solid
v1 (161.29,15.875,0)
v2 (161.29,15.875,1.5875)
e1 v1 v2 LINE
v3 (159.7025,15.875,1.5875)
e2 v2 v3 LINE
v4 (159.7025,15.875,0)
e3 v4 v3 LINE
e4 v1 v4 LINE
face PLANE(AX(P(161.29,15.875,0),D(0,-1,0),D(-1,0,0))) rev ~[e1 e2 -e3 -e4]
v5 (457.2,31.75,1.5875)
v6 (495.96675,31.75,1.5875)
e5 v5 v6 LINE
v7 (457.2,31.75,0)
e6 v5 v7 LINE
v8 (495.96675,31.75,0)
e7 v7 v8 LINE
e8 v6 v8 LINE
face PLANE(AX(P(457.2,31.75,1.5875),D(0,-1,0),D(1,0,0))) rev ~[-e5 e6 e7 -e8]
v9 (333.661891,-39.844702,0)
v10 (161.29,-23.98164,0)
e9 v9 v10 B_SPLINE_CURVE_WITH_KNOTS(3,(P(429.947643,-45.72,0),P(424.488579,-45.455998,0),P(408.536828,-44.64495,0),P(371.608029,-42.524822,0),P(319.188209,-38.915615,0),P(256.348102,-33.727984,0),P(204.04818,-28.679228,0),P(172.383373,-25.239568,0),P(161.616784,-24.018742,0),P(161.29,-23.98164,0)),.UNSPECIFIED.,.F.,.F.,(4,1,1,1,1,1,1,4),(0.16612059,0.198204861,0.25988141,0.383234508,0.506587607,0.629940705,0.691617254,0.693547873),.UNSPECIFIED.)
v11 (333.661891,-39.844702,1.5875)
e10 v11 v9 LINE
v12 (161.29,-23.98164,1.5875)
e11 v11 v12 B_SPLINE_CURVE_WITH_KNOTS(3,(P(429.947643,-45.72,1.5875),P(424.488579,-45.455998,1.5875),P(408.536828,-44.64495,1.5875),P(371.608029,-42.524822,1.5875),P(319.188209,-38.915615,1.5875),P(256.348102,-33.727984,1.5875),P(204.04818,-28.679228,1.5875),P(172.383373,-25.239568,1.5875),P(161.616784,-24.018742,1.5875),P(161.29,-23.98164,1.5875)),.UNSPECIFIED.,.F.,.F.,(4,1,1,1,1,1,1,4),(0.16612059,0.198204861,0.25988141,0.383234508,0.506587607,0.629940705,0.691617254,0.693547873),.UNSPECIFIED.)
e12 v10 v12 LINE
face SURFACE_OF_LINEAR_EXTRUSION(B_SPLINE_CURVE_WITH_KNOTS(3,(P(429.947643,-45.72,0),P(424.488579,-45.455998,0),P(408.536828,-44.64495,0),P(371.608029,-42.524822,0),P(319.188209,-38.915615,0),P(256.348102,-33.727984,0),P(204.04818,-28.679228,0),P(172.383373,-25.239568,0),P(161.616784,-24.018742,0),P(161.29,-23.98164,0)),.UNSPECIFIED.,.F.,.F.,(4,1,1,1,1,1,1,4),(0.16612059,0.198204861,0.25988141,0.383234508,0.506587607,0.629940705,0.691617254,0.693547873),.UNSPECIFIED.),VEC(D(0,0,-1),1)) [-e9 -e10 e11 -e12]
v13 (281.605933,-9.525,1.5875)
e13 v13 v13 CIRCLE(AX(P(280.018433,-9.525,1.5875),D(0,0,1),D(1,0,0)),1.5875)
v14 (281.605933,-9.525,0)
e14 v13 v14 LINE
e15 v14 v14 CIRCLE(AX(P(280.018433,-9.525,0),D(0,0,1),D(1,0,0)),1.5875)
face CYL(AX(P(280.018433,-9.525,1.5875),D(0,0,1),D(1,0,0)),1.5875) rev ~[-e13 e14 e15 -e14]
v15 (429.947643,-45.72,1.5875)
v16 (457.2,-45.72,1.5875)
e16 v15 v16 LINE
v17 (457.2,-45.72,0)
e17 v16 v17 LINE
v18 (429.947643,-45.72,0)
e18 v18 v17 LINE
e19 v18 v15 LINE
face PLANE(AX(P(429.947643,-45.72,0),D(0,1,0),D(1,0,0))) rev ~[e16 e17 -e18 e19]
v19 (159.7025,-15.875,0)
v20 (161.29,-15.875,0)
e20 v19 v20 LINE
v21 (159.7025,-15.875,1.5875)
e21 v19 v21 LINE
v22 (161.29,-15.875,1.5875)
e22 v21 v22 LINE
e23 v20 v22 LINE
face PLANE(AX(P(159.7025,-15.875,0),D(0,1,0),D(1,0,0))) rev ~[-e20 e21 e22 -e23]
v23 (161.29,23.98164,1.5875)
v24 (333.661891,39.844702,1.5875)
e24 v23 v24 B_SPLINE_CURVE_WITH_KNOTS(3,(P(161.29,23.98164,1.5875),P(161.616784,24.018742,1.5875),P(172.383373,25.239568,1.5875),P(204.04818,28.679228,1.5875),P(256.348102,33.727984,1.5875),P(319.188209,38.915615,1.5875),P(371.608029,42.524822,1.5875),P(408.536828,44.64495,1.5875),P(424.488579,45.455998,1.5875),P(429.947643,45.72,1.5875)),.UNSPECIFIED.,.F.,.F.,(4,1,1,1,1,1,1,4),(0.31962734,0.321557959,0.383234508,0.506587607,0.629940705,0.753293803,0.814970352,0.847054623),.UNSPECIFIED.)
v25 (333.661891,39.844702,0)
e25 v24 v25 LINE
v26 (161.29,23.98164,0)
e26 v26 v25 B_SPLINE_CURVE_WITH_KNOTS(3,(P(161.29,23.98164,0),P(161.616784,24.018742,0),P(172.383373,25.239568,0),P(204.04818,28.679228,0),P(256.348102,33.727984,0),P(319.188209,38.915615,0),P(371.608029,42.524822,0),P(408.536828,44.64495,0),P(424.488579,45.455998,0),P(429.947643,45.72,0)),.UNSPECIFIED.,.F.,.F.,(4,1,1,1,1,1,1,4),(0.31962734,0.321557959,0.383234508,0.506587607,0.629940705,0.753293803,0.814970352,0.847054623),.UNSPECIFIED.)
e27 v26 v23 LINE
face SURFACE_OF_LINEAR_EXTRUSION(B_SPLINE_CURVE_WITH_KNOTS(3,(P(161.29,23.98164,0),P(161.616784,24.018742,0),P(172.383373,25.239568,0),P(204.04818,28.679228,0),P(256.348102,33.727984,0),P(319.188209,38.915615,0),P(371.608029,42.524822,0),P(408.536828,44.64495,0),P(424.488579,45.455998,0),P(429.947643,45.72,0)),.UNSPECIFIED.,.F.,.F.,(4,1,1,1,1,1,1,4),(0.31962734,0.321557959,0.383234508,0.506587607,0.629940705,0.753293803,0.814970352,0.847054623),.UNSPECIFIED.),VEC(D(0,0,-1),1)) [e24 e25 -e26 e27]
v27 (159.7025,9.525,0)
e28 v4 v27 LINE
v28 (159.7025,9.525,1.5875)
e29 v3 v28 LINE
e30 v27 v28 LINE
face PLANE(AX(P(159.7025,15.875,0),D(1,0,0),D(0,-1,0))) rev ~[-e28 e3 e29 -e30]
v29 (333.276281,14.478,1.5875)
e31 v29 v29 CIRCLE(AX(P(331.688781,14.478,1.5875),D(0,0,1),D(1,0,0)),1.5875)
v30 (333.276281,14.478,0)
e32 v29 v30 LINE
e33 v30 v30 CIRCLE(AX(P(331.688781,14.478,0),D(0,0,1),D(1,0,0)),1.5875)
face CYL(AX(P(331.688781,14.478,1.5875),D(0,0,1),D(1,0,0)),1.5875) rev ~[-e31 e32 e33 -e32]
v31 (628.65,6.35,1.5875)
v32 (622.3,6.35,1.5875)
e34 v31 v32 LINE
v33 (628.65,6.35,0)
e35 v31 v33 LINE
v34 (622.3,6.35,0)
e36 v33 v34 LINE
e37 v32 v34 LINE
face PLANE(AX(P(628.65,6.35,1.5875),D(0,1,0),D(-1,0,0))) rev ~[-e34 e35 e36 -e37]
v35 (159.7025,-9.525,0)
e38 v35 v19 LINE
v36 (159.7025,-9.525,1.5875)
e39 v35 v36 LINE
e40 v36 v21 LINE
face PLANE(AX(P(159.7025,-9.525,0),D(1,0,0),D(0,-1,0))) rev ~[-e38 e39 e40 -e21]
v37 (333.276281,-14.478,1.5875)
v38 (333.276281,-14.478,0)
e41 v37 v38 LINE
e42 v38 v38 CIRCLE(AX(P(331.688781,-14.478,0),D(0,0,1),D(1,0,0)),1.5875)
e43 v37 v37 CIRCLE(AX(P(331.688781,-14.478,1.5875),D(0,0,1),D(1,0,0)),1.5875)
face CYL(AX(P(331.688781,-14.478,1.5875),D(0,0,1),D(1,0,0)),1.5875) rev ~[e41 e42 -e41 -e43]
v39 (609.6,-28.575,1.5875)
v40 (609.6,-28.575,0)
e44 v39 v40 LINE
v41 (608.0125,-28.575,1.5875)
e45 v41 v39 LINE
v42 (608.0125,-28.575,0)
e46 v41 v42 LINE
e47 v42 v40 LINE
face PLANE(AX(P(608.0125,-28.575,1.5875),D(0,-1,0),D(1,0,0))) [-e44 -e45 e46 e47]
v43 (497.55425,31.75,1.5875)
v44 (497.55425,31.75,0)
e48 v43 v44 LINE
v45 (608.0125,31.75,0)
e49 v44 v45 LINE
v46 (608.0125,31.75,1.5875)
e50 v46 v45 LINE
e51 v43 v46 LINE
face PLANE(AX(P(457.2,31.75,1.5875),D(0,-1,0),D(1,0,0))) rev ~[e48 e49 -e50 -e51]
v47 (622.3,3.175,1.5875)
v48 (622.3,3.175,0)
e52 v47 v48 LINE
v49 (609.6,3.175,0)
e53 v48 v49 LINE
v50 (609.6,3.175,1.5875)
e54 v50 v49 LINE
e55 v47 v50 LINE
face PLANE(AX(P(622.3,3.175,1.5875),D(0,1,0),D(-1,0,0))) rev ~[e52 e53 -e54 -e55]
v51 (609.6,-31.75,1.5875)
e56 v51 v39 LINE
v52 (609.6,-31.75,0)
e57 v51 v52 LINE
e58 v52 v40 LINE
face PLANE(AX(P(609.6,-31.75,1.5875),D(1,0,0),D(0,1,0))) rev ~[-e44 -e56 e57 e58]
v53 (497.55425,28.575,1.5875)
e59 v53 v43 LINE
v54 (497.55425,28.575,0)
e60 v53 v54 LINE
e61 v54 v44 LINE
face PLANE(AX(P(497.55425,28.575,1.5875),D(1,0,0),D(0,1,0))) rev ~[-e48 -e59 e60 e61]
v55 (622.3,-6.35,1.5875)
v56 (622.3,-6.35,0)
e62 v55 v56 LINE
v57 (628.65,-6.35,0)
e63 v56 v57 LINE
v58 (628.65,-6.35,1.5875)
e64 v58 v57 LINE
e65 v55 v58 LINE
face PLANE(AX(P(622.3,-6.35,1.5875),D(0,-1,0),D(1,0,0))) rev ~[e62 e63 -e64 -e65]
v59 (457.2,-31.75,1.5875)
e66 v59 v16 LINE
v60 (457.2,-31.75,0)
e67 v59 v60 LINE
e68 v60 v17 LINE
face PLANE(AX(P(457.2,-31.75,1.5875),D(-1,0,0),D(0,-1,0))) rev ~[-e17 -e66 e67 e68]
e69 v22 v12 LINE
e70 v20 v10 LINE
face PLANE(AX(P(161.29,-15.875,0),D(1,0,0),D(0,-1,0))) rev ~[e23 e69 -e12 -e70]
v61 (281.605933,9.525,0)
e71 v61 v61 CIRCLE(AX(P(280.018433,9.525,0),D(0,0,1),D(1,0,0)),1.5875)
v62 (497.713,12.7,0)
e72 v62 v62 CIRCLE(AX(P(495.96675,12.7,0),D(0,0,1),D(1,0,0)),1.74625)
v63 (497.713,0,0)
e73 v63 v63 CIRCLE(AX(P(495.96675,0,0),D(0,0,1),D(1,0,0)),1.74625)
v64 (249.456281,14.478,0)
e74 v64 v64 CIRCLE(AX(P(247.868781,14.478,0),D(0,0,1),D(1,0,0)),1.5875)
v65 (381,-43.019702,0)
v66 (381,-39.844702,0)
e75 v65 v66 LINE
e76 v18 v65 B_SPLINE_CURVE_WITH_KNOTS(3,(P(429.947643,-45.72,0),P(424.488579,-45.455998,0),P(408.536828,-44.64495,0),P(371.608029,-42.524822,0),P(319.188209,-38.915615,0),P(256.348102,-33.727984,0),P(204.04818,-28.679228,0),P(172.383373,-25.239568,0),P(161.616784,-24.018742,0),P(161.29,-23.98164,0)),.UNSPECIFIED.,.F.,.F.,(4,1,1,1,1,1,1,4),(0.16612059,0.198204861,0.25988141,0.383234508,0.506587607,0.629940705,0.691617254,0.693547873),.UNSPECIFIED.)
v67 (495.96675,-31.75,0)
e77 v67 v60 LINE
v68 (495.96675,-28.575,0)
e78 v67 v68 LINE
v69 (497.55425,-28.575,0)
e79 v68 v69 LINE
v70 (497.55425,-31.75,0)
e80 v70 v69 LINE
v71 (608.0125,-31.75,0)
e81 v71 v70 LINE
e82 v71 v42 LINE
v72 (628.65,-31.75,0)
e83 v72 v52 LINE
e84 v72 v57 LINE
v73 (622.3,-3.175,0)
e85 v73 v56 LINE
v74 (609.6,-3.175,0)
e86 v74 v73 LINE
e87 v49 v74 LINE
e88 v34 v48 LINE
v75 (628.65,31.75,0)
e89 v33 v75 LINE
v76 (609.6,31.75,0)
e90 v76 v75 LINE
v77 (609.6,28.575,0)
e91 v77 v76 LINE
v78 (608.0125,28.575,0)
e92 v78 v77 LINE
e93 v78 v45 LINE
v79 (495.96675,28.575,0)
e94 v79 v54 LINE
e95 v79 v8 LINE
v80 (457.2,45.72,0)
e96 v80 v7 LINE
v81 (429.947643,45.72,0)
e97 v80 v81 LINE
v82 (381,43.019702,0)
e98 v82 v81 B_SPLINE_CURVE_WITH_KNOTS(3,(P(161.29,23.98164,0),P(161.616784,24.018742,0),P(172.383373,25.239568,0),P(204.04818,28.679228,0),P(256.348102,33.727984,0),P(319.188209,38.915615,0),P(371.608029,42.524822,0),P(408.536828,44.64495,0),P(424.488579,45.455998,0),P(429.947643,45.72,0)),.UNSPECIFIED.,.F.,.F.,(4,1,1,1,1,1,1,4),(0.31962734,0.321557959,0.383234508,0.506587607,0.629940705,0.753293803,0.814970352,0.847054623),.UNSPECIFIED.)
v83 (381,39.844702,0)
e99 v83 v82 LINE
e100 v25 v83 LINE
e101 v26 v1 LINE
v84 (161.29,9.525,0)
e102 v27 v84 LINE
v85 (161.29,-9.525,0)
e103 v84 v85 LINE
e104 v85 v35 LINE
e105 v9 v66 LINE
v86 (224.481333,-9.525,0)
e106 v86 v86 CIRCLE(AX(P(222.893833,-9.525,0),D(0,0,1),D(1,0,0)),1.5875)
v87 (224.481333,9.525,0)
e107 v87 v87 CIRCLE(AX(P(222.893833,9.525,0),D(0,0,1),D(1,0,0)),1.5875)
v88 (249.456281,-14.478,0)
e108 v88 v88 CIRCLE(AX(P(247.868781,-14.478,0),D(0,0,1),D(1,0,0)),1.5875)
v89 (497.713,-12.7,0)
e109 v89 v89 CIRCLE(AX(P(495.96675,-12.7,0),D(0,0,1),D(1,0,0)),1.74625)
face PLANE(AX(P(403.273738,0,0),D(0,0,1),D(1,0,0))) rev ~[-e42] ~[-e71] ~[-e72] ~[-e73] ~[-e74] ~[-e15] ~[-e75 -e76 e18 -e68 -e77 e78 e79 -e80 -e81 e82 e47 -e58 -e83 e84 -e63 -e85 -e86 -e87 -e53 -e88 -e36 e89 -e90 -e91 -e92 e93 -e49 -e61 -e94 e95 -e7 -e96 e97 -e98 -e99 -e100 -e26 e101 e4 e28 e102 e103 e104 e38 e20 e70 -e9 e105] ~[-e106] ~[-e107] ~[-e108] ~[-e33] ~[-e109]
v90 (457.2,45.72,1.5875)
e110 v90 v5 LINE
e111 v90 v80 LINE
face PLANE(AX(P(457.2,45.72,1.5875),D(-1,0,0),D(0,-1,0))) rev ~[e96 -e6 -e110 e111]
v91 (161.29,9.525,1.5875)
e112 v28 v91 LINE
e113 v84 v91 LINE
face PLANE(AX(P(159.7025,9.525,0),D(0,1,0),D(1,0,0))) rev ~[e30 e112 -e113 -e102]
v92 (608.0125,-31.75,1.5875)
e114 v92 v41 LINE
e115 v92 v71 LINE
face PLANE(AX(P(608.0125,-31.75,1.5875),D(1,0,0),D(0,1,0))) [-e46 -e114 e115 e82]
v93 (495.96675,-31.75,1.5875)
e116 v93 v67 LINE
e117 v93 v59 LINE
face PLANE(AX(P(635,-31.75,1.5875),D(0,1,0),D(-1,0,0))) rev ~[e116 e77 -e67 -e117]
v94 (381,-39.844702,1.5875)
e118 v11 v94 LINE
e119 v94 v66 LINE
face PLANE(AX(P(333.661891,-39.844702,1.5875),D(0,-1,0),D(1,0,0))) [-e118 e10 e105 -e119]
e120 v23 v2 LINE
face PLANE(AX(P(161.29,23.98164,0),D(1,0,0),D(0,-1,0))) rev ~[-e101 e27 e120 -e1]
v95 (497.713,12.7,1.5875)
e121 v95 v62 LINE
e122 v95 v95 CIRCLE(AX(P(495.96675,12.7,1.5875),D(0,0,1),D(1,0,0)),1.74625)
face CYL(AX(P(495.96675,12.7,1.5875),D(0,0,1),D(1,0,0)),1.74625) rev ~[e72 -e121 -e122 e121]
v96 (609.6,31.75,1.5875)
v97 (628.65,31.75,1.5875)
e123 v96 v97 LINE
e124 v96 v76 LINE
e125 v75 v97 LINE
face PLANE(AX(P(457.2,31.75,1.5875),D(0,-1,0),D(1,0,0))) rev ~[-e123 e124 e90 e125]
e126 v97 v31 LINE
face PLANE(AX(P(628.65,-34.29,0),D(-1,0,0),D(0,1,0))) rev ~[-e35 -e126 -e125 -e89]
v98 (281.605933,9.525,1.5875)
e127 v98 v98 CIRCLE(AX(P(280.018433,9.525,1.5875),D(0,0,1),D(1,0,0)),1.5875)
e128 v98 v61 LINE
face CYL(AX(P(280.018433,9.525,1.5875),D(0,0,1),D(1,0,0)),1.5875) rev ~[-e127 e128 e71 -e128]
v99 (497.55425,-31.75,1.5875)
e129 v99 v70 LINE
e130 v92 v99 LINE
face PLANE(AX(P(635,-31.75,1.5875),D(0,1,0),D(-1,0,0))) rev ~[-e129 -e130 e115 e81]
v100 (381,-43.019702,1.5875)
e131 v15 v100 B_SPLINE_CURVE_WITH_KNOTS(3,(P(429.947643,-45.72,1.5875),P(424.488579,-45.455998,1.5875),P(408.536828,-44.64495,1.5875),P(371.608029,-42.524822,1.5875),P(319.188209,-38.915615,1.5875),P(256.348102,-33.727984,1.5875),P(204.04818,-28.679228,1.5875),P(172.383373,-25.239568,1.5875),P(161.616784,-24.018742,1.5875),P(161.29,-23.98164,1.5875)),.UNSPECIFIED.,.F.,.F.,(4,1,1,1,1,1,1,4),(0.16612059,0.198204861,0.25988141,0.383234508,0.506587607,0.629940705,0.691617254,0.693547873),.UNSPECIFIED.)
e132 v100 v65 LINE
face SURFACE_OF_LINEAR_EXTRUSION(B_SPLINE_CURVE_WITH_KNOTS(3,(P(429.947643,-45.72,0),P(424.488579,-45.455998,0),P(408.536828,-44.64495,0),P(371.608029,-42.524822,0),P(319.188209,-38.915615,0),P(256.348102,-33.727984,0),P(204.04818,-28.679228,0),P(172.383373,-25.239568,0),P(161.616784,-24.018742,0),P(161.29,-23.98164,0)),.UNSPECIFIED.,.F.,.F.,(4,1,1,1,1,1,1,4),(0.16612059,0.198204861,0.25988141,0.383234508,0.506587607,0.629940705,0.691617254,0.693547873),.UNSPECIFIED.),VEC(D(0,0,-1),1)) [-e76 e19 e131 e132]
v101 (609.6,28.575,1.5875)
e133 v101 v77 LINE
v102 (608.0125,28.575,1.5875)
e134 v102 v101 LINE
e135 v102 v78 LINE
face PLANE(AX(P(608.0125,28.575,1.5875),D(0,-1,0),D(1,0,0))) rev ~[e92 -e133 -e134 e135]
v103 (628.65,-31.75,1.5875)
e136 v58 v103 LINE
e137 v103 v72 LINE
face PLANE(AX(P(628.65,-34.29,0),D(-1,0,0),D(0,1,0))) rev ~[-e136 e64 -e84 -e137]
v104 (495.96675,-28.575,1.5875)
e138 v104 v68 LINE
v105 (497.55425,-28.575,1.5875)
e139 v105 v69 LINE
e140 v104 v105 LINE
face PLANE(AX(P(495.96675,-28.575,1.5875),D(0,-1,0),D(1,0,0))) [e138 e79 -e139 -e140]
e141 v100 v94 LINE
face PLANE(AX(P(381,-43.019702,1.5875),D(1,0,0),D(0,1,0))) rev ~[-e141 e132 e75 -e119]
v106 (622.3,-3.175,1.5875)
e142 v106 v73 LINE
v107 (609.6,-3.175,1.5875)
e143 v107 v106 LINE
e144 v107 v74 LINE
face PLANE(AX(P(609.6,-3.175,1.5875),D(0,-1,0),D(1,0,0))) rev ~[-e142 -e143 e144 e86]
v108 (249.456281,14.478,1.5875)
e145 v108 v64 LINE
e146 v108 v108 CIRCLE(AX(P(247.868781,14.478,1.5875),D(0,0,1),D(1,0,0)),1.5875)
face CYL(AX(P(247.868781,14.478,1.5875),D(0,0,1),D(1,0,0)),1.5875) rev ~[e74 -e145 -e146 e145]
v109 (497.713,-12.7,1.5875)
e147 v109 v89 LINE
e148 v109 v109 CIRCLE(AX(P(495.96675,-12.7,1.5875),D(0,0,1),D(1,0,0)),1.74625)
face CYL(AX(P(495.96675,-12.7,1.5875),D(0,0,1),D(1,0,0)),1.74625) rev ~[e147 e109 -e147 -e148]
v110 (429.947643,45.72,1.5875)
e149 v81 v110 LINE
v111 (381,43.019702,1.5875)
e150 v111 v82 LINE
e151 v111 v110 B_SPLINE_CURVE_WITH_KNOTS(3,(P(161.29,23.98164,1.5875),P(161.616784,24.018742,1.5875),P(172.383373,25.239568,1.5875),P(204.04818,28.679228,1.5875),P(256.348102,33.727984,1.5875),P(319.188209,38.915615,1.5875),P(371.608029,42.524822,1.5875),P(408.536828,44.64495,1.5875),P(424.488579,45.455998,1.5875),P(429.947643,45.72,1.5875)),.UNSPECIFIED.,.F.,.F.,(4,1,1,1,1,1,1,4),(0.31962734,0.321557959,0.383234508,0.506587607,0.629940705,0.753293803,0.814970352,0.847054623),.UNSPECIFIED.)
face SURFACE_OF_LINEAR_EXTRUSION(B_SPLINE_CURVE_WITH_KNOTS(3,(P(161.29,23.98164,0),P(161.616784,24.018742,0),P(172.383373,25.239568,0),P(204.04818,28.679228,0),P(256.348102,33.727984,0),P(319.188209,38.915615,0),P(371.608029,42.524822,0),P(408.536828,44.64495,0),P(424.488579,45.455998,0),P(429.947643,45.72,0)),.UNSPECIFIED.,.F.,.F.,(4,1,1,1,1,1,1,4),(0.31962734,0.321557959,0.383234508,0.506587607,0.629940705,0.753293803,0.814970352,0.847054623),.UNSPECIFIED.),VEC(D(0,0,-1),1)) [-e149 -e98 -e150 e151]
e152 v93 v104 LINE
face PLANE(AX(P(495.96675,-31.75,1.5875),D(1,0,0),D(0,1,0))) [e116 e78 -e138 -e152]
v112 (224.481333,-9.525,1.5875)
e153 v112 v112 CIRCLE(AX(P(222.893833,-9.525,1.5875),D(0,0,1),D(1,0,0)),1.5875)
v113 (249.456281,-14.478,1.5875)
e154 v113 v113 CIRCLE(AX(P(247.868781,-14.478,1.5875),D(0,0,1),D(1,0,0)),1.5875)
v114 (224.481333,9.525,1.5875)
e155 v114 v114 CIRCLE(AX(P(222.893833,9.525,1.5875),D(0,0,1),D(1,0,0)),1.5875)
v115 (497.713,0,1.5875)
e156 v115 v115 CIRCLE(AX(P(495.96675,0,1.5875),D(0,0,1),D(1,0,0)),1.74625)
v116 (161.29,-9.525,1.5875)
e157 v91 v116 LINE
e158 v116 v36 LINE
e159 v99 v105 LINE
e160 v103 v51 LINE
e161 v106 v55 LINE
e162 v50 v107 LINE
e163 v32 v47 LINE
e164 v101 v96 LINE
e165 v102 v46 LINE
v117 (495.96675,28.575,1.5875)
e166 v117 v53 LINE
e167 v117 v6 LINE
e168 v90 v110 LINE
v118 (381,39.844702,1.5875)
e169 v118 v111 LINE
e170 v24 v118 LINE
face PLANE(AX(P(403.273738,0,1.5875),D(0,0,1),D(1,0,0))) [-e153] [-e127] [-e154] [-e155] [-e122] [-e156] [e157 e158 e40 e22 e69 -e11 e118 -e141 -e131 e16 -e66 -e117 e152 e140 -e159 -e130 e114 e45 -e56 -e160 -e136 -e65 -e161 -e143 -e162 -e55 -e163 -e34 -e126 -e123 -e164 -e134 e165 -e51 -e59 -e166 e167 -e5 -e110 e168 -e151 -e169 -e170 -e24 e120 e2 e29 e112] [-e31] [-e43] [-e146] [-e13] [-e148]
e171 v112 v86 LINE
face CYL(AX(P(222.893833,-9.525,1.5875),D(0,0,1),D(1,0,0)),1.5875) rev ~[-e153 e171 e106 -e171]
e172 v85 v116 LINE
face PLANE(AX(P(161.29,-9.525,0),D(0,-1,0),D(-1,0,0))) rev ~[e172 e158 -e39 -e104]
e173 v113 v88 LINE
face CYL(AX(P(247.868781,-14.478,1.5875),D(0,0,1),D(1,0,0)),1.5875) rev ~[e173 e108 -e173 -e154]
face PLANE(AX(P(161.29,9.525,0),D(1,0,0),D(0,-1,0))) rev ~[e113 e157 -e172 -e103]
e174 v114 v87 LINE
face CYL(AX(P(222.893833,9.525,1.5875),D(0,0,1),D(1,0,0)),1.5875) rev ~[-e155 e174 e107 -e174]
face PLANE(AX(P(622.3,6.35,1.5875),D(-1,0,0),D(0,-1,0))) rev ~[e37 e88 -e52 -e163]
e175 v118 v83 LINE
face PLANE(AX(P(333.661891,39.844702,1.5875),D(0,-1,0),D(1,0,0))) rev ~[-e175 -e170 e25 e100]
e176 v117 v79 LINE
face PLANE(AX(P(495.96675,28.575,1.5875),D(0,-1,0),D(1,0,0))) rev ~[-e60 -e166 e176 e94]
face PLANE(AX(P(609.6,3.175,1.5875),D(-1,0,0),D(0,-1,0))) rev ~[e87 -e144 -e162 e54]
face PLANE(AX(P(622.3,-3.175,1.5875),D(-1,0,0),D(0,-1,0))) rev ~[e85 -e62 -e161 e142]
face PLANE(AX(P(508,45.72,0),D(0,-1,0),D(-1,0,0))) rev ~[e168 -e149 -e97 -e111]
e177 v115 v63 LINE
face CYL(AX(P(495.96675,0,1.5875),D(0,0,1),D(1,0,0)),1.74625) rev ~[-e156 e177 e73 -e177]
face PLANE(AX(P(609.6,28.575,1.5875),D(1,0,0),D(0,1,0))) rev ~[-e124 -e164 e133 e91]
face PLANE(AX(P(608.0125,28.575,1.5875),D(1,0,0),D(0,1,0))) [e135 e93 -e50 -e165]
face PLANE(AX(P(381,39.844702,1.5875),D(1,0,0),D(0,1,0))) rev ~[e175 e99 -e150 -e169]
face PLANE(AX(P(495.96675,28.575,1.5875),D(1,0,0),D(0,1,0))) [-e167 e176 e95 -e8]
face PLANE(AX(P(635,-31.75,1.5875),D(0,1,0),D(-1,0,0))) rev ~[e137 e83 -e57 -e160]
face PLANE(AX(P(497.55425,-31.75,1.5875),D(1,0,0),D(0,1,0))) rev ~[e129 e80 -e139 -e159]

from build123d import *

# Parameters (mm, degrees)
BOSS_EXTRUDE1_DEPTH    = 1.5875
SKETCH10_W             = 6.35
SKETCH10_H             = 68.58
CUT_EXTRUDE5_DEPTH     = 637.645771754
CUT_EXTRUDE1_DEPTH     = 631.312352085
SKETCH4_W              = 1.5875
SKETCH4_H              = 3.175
CUT_EXTRUDE2_DEPTH     = 631.312352085
SKETCH6_W              = 47.338109293
SKETCH6_H              = 3.175
CUT_EXTRUDE3_DEPTH     = 631.312352085
SKETCH7_R              = 1.5875
ARTS4_MOUNT_DEPTH      = 631.312352085
SKETCH8_R              = 1.5875
TELEMETRUM_MOUNT_DEPTH = 631.312352085
SKETCH9_R              = 1.74625
CUT_EXTRUDE4_DEPTH     = 631.312352085


with BuildPart() as part:
    # Sketch1 → Boss-Extrude1 (new body)
    with BuildSketch(Plane.XY):
        with BuildLine():
            Line((508, -45.72), (508, -34.29))
            Line((508, -34.29), (635, -34.29))
            Line((635, -34.29), (635, 34.29))
            Line((635, 34.29), (508, 34.29))
            Line((508, 34.29), (508, 45.72))
            Line((508, 45.72), (429.947642932, 45.72))
            add(Edge.make_bspline(
                [(161.29, 23.981640211), (161.616784041, 24.018741883), (172.383373415, 25.239568053), (204.048179593, 28.679227521), (256.348102033, 33.727983978), (319.188209115, 38.915614913), (371.60802888, 42.52482202), (408.536828327, 44.644949518), (424.488578703, 45.455997775), (429.947642932, 45.72)],
                knots=[0.31962734, 0.31962734, 0.31962734, 0.31962734, 0.321557959, 0.383234508, 0.506587607, 0.629940705, 0.753293803, 0.814970352, 0.847054623, 0.847054623, 0.847054623, 0.847054623], degree=3))
            Line((161.29, 23.981640211), (161.29, 15.875))
            Line((161.29, 15.875), (159.7025, 15.875))
            Line((159.7025, 15.875), (159.7025, 9.525))
            Line((159.7025, 9.525), (161.29, 9.525))
            Line((161.29, 9.525), (161.29, -9.525))
            Line((161.29, -9.525), (159.7025, -9.525))
            Line((159.7025, -9.525), (159.7025, -15.875))
            Line((159.7025, -15.875), (161.29, -15.875))
            Line((161.29, -15.875), (161.29, -23.981640211))
            add(Edge.make_bspline(
                [(429.947642932, -45.72), (424.488578703, -45.455997775), (408.536828327, -44.644949518), (371.60802888, -42.52482202), (319.188209115, -38.915614913), (256.348102033, -33.727983978), (204.048179593, -28.679227521), (172.383373415, -25.239568053), (161.616784041, -24.018741883), (161.29, -23.981640211)],
                knots=[0.16612059, 0.16612059, 0.16612059, 0.16612059, 0.198204861, 0.25988141, 0.383234508, 0.506587607, 0.629940705, 0.691617254, 0.693547873, 0.693547873, 0.693547873, 0.693547873], degree=3))
            Line((429.947642932, -45.72), (508, -45.72))
        make_face()
    extrude(amount=BOSS_EXTRUDE1_DEPTH)

    # Sketch10 → Cut-Extrude5 (cut, through all)
    with BuildSketch(Plane(origin=(0, 0, 0), x_dir=(-1, 0, 0), z_dir=(0, 0, -1))):
        with Locations((-631.825, 0)):
            Rectangle(SKETCH10_W, SKETCH10_H)
    extrude(amount=-CUT_EXTRUDE5_DEPTH, mode=Mode.SUBTRACT)

    # Sketch3 → Cut-Extrude1 (cut, through all)
    with BuildSketch(Plane.XY.offset(1.5875)):
        Polygon((635, 34.29), (508, 34.29), (508, 45.72), (457.2, 45.72), (457.2, 31.75), (635, 31.75), align=None)
        Polygon((508, -45.72), (508, -34.29), (635, -34.29), (635, -31.75), (457.2, -31.75), (457.2, -45.72), align=None)
        Polygon((622.3, 6.35), (622.3, 3.175), (609.6, 3.175), (609.6, -3.175), (622.3, -3.175), (622.3, -6.35), (628.65, -6.35), (628.65, 6.35), align=None)
    extrude(amount=-CUT_EXTRUDE1_DEPTH, mode=Mode.SUBTRACT)

    # Sketch4 → Cut-Extrude2 (cut, through all)
    with BuildSketch(Plane.XY.offset(1.5875)):
        with Locations((496.7605, 30.1625)):
            Rectangle(SKETCH4_W, SKETCH4_H)
        with Locations((608.80625, 30.1625)):
            Rectangle(SKETCH4_W, SKETCH4_H)
        with Locations((496.7605, -30.1625)):
            Rectangle(SKETCH4_W, SKETCH4_H)
        with Locations((608.80625, -30.1625)):
            Rectangle(SKETCH4_W, SKETCH4_H)
    extrude(amount=-CUT_EXTRUDE2_DEPTH, mode=Mode.SUBTRACT)

    # Sketch6 → Cut-Extrude3 (cut, through all)
    with BuildSketch(Plane.XY.offset(1.5875)):
        with Locations((357.330945353, 41.432202354)):
            Rectangle(SKETCH6_W, SKETCH6_H)
        with Locations((357.330945353, -41.432202354)):
            Rectangle(SKETCH6_W, SKETCH6_H)
    extrude(amount=-CUT_EXTRUDE3_DEPTH, mode=Mode.SUBTRACT)

    # Sketch7 → ARTS4 mount (cut, through all)
    with BuildSketch(Plane.XY.offset(1.5875)):
        with Locations((331.688780886, 14.478)):
            Circle(SKETCH7_R)
        with Locations((331.688780886, -14.478)):
            Circle(SKETCH7_R)
        with Locations((247.868780886, 14.478)):
            Circle(SKETCH7_R)
        with Locations((247.868780886, -14.478)):
            Circle(SKETCH7_R)
    extrude(amount=-ARTS4_MOUNT_DEPTH, mode=Mode.SUBTRACT)

    # Sketch8 → Telemetrum Mount (cut, through all)
    with BuildSketch(Plane.XY.offset(1.5875)):
        with Locations((280.018433255, 9.525)):
            Circle(SKETCH8_R)
        with Locations((280.018433255, -9.525)):
            Circle(SKETCH8_R)
        with Locations((222.893833255, -9.525)):
            Circle(SKETCH8_R)
        with Locations((222.893833255, 9.525)):
            Circle(SKETCH8_R)
    extrude(amount=-TELEMETRUM_MOUNT_DEPTH, mode=Mode.SUBTRACT)

    # Sketch9 → Cut-Extrude4 (cut, through all)
    with BuildSketch(Plane.XY.offset(1.5875)):
        with Locations((495.96675, -12.7)):
            Circle(SKETCH9_R)
        with Locations((495.96675, 12.7)):
            Circle(SKETCH9_R)
        with Locations((495.96675, 0)):
            Circle(SKETCH9_R)
    extrude(amount=-CUT_EXTRUDE4_DEPTH, mode=Mode.SUBTRACT)


solid = part.part
